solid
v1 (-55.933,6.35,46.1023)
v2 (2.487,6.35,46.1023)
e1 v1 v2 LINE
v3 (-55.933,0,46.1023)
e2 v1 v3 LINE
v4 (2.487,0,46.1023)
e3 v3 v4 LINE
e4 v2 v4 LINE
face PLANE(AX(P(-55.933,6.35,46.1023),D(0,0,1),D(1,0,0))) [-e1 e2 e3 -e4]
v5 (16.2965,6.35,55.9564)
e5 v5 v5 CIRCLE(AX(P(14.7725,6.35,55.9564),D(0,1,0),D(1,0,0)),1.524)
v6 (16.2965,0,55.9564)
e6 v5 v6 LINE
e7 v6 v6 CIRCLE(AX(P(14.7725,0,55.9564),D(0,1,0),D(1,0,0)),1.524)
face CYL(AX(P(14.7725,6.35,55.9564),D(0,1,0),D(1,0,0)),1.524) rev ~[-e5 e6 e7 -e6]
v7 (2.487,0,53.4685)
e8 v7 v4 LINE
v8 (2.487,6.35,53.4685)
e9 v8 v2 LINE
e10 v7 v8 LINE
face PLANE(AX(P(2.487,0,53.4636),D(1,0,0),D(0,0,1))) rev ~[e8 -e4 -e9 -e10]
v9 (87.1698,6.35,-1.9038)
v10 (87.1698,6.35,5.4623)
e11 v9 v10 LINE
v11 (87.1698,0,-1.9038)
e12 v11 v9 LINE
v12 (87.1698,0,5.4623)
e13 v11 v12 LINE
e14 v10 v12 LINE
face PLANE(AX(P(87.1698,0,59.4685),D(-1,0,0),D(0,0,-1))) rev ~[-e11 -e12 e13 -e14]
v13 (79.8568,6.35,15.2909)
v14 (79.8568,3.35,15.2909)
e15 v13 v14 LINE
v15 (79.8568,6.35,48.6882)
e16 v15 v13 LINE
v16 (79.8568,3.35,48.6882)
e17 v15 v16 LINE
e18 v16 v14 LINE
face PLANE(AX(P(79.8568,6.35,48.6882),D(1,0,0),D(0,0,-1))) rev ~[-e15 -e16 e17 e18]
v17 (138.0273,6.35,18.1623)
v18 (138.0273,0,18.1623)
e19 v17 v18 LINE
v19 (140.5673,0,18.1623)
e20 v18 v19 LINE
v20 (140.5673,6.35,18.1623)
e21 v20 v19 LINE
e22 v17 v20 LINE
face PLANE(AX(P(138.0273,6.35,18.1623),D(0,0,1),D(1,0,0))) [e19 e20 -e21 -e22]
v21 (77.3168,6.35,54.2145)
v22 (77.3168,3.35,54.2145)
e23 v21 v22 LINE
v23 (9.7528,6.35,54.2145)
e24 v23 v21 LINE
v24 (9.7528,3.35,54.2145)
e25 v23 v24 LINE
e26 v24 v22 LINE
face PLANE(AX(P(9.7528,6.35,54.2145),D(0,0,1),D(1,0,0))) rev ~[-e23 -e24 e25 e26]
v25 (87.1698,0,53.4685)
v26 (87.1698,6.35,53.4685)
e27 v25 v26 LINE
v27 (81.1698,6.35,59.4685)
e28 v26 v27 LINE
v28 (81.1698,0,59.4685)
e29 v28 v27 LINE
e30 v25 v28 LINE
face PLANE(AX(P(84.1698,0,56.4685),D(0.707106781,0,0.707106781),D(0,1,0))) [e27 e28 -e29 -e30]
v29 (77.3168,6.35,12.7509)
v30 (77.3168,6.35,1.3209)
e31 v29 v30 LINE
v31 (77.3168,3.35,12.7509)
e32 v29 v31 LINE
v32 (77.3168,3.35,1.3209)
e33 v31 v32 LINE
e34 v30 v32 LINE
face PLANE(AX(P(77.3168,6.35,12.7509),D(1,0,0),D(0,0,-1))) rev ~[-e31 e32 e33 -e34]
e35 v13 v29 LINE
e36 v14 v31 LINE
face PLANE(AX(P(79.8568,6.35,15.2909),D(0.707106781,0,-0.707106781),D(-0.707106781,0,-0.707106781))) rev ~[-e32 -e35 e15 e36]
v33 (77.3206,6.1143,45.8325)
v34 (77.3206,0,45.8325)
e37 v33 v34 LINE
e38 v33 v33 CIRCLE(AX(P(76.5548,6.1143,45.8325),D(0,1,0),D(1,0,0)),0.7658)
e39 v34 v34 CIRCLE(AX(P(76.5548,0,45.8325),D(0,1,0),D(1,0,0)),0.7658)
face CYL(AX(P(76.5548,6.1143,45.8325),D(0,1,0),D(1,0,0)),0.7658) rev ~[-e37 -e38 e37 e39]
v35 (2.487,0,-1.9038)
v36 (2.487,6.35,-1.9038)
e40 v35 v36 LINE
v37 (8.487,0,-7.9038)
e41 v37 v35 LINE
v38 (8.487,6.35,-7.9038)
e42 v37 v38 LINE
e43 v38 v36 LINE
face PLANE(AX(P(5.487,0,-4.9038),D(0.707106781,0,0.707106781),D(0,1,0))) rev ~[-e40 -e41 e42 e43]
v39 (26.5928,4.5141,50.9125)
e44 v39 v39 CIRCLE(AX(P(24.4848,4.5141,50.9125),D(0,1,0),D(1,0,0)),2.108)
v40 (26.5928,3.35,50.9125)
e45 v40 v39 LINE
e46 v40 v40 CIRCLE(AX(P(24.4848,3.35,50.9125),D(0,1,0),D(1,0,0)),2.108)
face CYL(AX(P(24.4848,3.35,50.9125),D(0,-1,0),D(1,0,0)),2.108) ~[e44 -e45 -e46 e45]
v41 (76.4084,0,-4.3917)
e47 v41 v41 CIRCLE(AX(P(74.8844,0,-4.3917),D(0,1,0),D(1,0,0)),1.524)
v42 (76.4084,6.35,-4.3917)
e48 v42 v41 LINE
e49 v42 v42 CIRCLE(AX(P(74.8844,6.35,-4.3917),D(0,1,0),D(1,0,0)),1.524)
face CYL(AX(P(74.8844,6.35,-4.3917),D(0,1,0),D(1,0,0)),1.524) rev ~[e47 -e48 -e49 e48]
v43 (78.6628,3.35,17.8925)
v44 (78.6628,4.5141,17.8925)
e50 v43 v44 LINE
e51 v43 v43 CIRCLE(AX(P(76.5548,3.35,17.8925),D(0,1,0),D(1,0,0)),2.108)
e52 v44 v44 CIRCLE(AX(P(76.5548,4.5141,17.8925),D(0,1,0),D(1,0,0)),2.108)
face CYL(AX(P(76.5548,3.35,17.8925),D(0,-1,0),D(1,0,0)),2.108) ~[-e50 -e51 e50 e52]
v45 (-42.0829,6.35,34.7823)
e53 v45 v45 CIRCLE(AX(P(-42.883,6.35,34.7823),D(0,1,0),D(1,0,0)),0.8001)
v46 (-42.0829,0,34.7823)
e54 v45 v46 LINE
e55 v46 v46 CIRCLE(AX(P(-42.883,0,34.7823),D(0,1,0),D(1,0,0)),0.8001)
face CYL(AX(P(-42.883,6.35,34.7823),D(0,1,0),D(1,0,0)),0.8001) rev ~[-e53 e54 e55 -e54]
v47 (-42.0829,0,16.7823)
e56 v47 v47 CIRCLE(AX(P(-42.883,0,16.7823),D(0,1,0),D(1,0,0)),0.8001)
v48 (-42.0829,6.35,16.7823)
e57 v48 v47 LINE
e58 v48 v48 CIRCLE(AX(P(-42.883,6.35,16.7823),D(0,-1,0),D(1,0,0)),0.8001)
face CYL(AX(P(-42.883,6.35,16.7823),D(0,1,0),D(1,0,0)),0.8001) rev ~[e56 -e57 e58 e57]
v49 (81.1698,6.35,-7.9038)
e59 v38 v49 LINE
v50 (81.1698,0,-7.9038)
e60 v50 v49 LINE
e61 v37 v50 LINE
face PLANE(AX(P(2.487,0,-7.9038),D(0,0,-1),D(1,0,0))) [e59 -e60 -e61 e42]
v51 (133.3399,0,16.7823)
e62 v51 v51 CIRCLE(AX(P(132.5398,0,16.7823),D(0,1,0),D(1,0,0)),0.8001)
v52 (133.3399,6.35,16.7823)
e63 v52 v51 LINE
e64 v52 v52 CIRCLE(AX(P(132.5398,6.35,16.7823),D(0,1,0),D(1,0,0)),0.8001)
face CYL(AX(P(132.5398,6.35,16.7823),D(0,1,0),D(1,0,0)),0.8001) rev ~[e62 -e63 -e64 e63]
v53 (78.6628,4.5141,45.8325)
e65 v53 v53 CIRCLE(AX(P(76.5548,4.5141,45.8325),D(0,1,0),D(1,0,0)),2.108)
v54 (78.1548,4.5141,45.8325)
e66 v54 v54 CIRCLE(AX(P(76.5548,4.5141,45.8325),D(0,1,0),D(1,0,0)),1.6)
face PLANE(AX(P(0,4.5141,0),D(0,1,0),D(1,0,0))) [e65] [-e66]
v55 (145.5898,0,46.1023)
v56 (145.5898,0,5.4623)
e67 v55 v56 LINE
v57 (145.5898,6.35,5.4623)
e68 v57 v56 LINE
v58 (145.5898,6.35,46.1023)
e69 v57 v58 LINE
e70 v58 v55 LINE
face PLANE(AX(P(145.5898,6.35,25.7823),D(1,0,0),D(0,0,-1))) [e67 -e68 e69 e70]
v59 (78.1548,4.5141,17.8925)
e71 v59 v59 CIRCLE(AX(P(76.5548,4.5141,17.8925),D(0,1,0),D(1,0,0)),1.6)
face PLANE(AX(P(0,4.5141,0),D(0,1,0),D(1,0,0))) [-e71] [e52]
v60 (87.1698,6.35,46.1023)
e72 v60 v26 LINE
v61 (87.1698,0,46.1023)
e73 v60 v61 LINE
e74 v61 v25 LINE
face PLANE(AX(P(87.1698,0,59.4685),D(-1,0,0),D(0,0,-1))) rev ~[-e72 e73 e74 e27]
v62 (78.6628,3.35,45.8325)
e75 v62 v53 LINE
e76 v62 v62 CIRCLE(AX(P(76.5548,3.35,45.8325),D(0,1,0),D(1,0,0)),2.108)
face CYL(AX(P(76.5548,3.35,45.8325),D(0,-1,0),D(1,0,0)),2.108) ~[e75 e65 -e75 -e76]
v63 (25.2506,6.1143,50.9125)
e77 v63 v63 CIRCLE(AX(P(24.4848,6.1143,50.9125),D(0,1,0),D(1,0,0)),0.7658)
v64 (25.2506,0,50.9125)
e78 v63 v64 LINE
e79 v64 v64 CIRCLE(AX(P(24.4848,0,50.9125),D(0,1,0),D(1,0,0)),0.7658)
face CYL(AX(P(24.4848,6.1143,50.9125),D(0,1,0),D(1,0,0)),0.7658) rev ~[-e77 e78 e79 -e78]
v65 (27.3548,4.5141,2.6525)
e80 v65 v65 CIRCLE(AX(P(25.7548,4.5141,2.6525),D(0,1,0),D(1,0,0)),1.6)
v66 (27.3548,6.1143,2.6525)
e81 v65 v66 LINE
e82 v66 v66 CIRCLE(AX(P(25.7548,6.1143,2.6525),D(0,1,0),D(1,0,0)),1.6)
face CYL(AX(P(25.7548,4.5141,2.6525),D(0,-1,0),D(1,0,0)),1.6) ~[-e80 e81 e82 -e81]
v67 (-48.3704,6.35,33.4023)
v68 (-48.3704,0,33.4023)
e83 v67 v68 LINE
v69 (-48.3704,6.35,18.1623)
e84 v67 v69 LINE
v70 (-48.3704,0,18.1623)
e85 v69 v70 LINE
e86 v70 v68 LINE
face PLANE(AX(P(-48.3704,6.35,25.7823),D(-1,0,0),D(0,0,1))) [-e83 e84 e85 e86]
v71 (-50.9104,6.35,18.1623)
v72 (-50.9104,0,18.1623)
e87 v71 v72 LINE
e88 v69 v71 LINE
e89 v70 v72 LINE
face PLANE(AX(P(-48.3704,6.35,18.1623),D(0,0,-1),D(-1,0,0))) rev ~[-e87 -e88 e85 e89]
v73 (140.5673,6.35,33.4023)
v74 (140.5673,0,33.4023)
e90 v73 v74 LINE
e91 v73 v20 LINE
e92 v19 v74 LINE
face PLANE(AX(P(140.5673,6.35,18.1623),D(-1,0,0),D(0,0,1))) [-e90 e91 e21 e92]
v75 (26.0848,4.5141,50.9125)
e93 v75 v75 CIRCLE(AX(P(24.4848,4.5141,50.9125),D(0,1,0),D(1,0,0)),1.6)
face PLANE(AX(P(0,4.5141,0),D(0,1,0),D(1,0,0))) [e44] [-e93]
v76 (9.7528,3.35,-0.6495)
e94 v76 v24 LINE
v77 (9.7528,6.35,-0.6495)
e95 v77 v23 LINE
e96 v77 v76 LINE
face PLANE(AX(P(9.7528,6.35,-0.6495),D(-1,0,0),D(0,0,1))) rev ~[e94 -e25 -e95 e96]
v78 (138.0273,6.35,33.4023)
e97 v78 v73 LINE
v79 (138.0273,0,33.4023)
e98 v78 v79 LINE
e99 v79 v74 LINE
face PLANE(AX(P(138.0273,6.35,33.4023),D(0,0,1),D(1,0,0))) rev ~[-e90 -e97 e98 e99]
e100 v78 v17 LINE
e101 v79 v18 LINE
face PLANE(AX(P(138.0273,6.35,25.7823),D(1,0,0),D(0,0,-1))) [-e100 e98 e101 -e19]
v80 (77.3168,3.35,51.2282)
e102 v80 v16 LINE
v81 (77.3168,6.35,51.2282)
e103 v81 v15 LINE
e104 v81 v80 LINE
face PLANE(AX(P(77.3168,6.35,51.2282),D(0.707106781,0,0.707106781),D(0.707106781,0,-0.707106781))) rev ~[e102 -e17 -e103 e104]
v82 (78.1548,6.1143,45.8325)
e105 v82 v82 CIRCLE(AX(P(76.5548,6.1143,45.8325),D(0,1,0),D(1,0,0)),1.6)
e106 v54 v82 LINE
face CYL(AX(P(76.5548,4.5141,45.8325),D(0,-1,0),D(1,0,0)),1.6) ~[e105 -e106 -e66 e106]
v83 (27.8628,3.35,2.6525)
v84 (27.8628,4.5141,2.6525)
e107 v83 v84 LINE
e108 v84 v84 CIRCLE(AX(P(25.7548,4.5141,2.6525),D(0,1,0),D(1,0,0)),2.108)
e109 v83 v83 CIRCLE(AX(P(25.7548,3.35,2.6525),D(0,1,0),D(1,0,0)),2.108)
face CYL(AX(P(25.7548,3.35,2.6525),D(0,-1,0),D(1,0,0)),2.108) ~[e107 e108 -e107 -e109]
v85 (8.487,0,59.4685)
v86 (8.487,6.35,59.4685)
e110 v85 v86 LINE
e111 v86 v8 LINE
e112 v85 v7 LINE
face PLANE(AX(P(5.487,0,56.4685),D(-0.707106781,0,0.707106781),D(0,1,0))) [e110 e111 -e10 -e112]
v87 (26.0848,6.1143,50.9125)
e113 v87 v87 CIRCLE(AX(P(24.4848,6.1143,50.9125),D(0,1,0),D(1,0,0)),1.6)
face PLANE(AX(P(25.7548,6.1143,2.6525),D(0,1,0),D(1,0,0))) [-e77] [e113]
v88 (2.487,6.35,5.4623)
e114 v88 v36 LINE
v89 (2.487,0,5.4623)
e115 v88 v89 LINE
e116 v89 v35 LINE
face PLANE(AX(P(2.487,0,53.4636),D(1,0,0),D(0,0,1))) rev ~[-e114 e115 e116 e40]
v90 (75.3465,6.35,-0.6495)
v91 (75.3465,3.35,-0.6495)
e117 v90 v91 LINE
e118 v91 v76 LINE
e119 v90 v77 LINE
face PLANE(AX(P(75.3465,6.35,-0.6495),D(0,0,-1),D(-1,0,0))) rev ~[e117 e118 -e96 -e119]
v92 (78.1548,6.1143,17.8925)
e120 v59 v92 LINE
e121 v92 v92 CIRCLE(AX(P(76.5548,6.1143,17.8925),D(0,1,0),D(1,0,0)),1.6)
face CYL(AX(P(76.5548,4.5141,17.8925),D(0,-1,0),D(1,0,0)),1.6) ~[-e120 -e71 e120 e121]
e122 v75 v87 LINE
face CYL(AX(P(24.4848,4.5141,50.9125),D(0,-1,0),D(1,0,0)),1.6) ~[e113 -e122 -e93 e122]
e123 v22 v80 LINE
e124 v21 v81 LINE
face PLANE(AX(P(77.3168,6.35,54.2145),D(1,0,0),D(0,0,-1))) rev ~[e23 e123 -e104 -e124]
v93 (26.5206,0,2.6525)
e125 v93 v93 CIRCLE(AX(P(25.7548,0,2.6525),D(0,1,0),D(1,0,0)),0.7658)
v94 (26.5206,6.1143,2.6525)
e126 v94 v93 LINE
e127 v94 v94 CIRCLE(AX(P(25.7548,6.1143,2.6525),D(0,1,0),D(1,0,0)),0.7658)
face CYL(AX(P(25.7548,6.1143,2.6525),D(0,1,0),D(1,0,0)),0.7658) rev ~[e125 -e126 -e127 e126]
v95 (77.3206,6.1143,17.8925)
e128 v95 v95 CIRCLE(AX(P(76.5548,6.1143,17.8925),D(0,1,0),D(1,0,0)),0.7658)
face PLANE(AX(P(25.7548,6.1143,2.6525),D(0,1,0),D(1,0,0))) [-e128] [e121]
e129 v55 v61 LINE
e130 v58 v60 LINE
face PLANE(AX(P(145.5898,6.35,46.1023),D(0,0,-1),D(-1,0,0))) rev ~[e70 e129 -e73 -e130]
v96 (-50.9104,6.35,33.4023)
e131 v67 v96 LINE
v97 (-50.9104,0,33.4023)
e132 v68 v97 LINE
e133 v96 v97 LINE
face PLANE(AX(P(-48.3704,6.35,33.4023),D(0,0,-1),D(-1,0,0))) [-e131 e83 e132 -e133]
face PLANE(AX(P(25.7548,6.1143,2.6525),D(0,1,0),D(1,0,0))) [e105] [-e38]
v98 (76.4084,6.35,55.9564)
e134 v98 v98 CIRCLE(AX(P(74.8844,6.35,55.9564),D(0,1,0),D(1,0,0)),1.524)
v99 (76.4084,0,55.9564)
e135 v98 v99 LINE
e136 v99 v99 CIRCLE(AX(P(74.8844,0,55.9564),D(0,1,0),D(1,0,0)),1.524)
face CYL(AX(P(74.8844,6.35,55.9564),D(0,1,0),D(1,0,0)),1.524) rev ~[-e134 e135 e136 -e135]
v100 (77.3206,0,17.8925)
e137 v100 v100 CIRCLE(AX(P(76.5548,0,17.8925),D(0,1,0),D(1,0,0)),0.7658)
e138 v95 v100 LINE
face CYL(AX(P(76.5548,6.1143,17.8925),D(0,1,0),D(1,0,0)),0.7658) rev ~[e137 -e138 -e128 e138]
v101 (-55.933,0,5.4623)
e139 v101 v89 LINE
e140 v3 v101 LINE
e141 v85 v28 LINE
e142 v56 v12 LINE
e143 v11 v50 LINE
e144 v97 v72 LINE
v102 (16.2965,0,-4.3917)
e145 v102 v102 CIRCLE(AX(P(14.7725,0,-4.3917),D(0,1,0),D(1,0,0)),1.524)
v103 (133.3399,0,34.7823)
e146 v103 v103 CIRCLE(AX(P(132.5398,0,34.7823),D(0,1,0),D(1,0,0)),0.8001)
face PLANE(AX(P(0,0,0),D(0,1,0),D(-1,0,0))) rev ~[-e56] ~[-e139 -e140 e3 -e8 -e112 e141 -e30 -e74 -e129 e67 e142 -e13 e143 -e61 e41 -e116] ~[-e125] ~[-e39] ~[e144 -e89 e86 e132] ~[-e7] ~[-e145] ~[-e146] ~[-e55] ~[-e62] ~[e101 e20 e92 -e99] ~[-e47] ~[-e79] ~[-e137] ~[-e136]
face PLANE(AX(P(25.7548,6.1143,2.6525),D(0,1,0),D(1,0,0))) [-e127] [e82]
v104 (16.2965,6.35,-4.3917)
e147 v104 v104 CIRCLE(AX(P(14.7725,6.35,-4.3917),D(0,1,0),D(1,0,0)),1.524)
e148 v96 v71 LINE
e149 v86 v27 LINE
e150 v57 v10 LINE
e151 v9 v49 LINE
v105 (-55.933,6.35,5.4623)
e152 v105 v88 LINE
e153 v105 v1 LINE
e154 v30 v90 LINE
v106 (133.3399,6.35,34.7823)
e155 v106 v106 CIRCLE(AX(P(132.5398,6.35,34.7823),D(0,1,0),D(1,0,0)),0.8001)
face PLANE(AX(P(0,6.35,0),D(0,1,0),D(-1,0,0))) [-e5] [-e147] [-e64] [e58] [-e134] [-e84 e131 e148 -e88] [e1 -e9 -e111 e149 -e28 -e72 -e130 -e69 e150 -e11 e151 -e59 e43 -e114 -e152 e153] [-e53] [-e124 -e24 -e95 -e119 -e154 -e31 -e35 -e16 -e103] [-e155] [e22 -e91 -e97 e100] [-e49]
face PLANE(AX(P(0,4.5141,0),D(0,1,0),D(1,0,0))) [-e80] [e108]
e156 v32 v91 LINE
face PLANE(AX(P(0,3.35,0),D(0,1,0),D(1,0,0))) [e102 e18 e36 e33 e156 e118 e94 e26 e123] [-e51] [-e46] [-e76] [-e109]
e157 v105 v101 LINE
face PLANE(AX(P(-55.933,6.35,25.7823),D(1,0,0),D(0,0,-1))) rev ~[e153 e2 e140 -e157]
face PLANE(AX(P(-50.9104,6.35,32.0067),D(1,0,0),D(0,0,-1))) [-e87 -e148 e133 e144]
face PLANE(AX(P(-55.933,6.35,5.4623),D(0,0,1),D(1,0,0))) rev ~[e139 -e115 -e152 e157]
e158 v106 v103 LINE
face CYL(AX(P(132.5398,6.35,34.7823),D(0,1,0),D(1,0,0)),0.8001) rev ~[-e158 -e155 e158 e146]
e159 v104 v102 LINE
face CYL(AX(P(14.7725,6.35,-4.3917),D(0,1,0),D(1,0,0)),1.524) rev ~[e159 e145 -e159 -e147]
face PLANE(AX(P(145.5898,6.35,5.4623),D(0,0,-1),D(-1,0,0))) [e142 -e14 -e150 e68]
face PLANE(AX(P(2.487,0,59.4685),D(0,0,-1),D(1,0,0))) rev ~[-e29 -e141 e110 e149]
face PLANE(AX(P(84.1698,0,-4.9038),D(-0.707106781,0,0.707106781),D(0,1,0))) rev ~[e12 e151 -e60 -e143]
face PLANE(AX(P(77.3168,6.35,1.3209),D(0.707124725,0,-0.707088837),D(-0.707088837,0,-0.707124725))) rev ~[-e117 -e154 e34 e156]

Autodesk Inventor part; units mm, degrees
ref_plane "YZ Plane" through (0, 0, 0) normal (1, 0, 0) x (0, 1, 0)
ref_plane "XZ Plane" through (0, 0, 0) normal (0, 1, 0) x (-1, 0, 0)
ref_plane "XY Plane" through (0, 0, 0) normal (0, 0, 1) x (1, 0, 0)
sketch "Sketch1" plane through (0, 0, 0) normal (0, 1, 0) x (-1, 0, 0)
  line L0 (-41.4486, 0) -> (-10.4831, 0)
  line L1 (-10.4831, 0) -> (-10.4831, 53.4636)
  line L2 (-10.4831, 53.4636) -> (-41.4486, 53.4636)
  line L3 (-41.4486, 53.4636) -> (-41.4486, 0)
  line L4 (-79.1688, 53.4636) -> (-87.1698, 53.4636)
  line L5 (-87.1698, 53.4636) -> (-87.1698, 0)
  line L6 (-87.1698, 0) -> (-79.1688, 0)
  line L7 (-79.1688, 0) -> (-79.1688, 53.4636)
  line L8 (-87.1698, 53.4636) -> (-2.487, 53.4636)
  line L9 (-2.487, 53.4636) -> (-2.487, 59.4685)
  line L10 (-2.487, 59.4685) -> (-87.1698, 59.4685)
  line L11 (-87.1698, 59.4685) -> (-87.1698, 53.4636)
  line L12 (-87.1698, 0) -> (-2.487, 0)
  line L13 (-2.487, 0) -> (-2.487, -7.9038)
  line L14 (-2.487, -7.9038) -> (-87.1698, -7.9038)
  line L15 (-87.1698, -7.9038) -> (-87.1698, 0)
  line L16 (-87.1698, -7.9038) -> (-2.487, -7.9038)
  line L17 (-2.487, -7.9038) -> (-2.487, 59.4685)
  line L18 (-2.487, 59.4685) -> (-87.1698, 59.4685)
  line L19 (-87.1698, 59.4685) -> (-87.1698, -7.9038)
  line L20 (-2.487, -7.9038) -> (-2.487, 25.802)
  line L21 (-2.487, 25.802) -> (-2.487, 59.4685)
  point P0 (0, 0)
  dimension "d0" = 8.001
  dimension "d1" = 33.7058
extrude "Extrusion1" add sketch "Sketch1" along normal blind 6.35
sketch "Sketch3" plane through (0, 6.35, 0) normal (0, 1, 0) x (1, 0, 0)
  line L0 (10.5148, -0.1125) -> (75.0308, -0.1125) projected
  line L1 (75.0308, -0.1125) -> (76.5548, -1.6365) projected
  line L2 (76.5548, -1.6365) -> (76.5548, -13.003) projected
  line L3 (76.5997, -13.1114) -> (79.0948, -15.6065) projected
  line L4 (79.0948, -15.6065) -> (79.0948, -48.3725) projected
  line L5 (79.0948, -48.3725) -> (76.5997, -50.8676) projected
  line L6 (76.5548, -50.976) -> (76.5548, -53.4525) projected
  line L7 (76.5548, -53.4525) -> (10.5148, -53.4525) projected
  line L8 (10.5148, -53.4525) -> (10.5148, -0.1125) projected
  line L9 (77.3168, -12.7509) -> (77.3168, -1.3209)
  line L10 (77.3168, -1.3209) -> (75.3465, 0.6495)
  line L11 (75.3465, 0.6495) -> (9.7528, 0.6495)
  line L12 (9.7528, 0.6495) -> (9.7528, -54.2145)
  line L13 (9.7528, -54.2145) -> (77.3168, -54.2145)
  line L14 (77.3168, -54.2145) -> (77.3168, -51.2282)
  line L15 (77.3168, -51.2282) -> (79.8568, -48.6882)
  line L16 (79.8568, -48.6882) -> (79.8568, -15.2909)
  line L17 (79.8568, -15.2909) -> (77.3168, -12.7509)
  point P0 (0, 0)
  dimension "d4" = 0.762
  dimension "d5" = 0.762
  dimension "d6" = 0.762
  dimension "d7" = 0.762
  dimension "d8" = 0.762
  dimension "d9" = 0.762
extrude "Extrusion2" cut sketch "Sketch3" against normal blind 3
sketch "Sketch4" plane through (0, 3.35, 0) normal (0, 1, 0) x (1, 0, 0)
  circle A0 centre (76.5548, -17.8925) radius 1.6 construction
  circle A1 centre (76.5548, -45.8325) radius 1.6 construction
  circle A2 centre (24.4848, -50.9125) radius 1.6 construction
  circle A3 centre (25.7548, -2.6525) radius 1.6 construction
  circle A4 centre (25.7548, -2.6525) radius 2.108
  circle A5 centre (76.5548, -17.8925) radius 2.108
  circle A6 centre (76.5548, -45.8325) radius 2.108
  circle A7 centre (24.4848, -50.9125) radius 2.108
  point P0 (0, 0)
  dimension "d12" = 0.508
  dimension "d13" = 0.508
  dimension "d14" = 0.508
  dimension "d15" = 0.508
extrude "Extrusion3" add sketch "Sketch4" along normal blind 1.1641
sketch "Sketch5" plane through (25.7548, 4.5141, 2.6525) normal (0, 1, 0) x (1, 0, 0)
  circle A0 centre (0, 0) radius 2.108 projected
  circle A1 centre (0, 0) radius 1.6
  circle A2 centre (-1.27, -48.26) radius 2.108 projected
  circle A3 centre (-1.27, -48.26) radius 2.108
  circle A4 centre (-1.27, -48.26) radius 1.6
  circle A5 centre (50.8, -43.18) radius 2.108 projected
  circle A6 centre (50.8, -43.18) radius 2.108
  circle A7 centre (50.8, -15.24) radius 2.108 projected
  circle A8 centre (50.8, -15.24) radius 2.108
  circle A9 centre (50.8, -15.24) radius 1.6
  circle A10 centre (50.8, -43.18) radius 1.6
  point P0 (-25.7548, 2.6525)
  dimension "d18" = 3.2
  dimension "d27" = 3.2
  dimension "d28" = 3.2
  dimension "d29" = 3.2
extrude "Extrusion4" add sketch "Sketch5" along normal blind 1.6002 contours A1 | A4 | A9 | A10
sketch "Sketch8" plane through (25.7548, 6.1143, 2.6525) normal (0, 1, 0) x (1, 0, 0)
  circle A0 centre (0, 0) radius 0.7658
  circle A1 centre (50.8, -15.24) radius 1.6 projected
  circle A2 centre (50.8, -15.24) radius 0.7658
  circle A3 centre (50.8, -43.18) radius 1.6 projected
  circle A4 centre (50.8, -43.18) radius 0.7658
  circle A5 centre (-1.27, -48.26) radius 1.6 projected
  circle A6 centre (-1.27, -48.26) radius 0.7658
  point P0 (-25.7548, 2.6525)
  dimension "d32" = 1.5316
  dimension "d33" = 1.5316
  dimension "d34" = 1.5316
  dimension "d35" = 1.5316
extrude "Extrusion5" cut sketch "Sketch8" against normal blind 14.986 contours A0 | A2 | A4 | A6
sketch "Sketch9" plane through (0, 6.35, 0) normal (0, 1, 0) x (1, 0, 0)
  line L0 (87.1698, 7.9038) -> (2.487, 7.9038) projected
  line L1 (44.8284, 7.9038) -> (44.8284, -59.4685)
  line L2 (2.487, -59.4685) -> (87.1698, -59.4685) projected
  line L3 (2.487, 7.9038) -> (2.487, -59.4685) projected
  line L4 (2.487, -25.7823) -> (87.1698, -25.7823)
  line L5 (87.1698, -59.4685) -> (87.1698, 7.9038) projected
  line L6 (2.487, -25.7823) -> (-55.933, -25.7823)
  line L7 (-55.933, -25.7823) -> (-55.933, -5.4623)
  line L8 (-55.933, -5.4623) -> (2.487, -5.4623)
  line L9 (2.487, -5.4623) -> (2.487, -25.7823)
  line L10 (-55.933, -25.7823) -> (-55.933, -46.1023)
  line L11 (-55.933, -46.1023) -> (2.487, -46.1023)
  circle A0 centre (14.7725, 4.3917) radius 1.524
  line L12 (145.5898, -25.7823) -> (145.5898, -5.4623)
  line L13 (145.5898, -5.4623) -> (87.1698, -5.4623)
  line L14 (145.5898, -25.7823) -> (145.5898, -46.1023)
  line L15 (145.5898, -46.1023) -> (87.1698, -46.1023)
  circle A1 centre (74.8844, 4.3917) radius 1.524
  circle A2 centre (14.7725, -55.9564) radius 1.524
  circle A3 centre (74.8844, -55.9564) radius 1.524
  line L16 (87.1698, -46.1023) -> (87.1698, -5.4623)
  line L17 (2.487, -46.1023) -> (2.487, -5.4623)
  circle A4 centre (14.7725, -55.9564) radius 1.524
  circle A5 centre (14.7725, 4.3917) radius 1.524
  circle A6 centre (74.8844, 4.3917) radius 1.524
  point P0 (0, 0)
  dimension "d38" = 58.42
  dimension "d39" = 20.32
  dimension "d40" = 3.048
extrude "Extrusion6" add sketch "Sketch9" against normal blind 6.35 contours L13 L12 L14 L15 L5 | L3 L6 L7 L8 | L3 L11 L10 L6
sketch "Sketch10" plane through (0, 6.35, 0) normal (0, 1, 0) x (1, 0, 0)
  point P0 (0, 0)
extrude "Extrusion7" cut sketch "Sketch9" against normal blind 9.906 contours A0 | A1 | A2 | A3
sketch "Sketch11" plane through (0, 6.35, 0) normal (0, 1, 0) x (1, 0, 0)
  line L0 (-55.933, -46.1023) -> (-55.933, -5.4623) projected
  line L1 (-55.933, -25.7823) -> (145.5898, -25.7823)
  line L2 (145.5898, -5.4623) -> (145.5898, -46.1023) projected
  line L3 (87.1698, 7.9038) -> (2.487, 7.9038) projected
  line L4 (44.8284, 7.9038) -> (44.8284, -59.4685)
  line L5 (2.487, -59.4685) -> (87.1698, -59.4685) projected
  line L6 (-55.933, -25.7823) -> (-26.469, -25.7823)
  line L7 (-26.469, -25.7823) -> (-26.469, -19.5593)
  line L8 (-26.469, -19.5593) -> (-55.933, -19.5593)
  line L9 (-55.933, -19.5593) -> (-55.933, -25.7823)
  line L10 (-26.469, -25.7823) -> (-55.933, -25.7823)
  line L11 (-55.933, -25.7823) -> (-55.933, -32.0067)
  line L12 (-55.933, -32.0067) -> (-26.469, -32.0067)
  line L13 (-26.469, -32.0067) -> (-26.469, -25.7823)
  line L14 (-55.933, -25.7823) -> (-26.469, -25.7823)
  line L15 (-26.469, -25.7823) -> (-26.469, -32.0067)
  line L16 (-26.469, -32.0067) -> (-55.933, -32.0067)
  line L17 (-55.933, -32.0067) -> (-55.933, -25.7823)
  line L18 (-55.933, -19.5593) -> (-38.633, -19.5593)
  line L19 (-55.933, -25.7823) -> (-55.933, -18.2823)
  line L20 (-55.933, -18.2823) -> (-38.633, -18.2823)
  line L21 (-38.633, -18.2823) -> (-38.633, -12.4823)
  line L22 (-38.633, -12.4823) -> (-47.133, -12.4823)
  line L23 (-47.133, -12.4823) -> (-47.133, -18.2823)
  line L24 (-48.3704, -25.7823) -> (-48.3704, -18.1623)
  line L25 (-48.3704, -18.1623) -> (-50.9104, -18.1623)
  line L26 (-50.9104, -18.1623) -> (-50.9104, -25.7823)
  line L27 (-42.883, -25.7823) -> (-42.883, -16.7823)
  circle A0 centre (-42.883, -16.7823) radius 0.8001
  line L28 (-48.3704, -25.7823) -> (-48.3704, -33.4023)
  line L29 (-48.3704, -33.4023) -> (-50.9104, -33.4023)
  line L30 (-50.9104, -33.4023) -> (-50.9104, -25.7823)
  circle A1 centre (-42.883, -34.7823) radius 0.8001
  line L31 (138.0273, -25.7823) -> (138.0273, -18.1623)
  line L32 (138.0273, -18.1623) -> (140.5673, -18.1623)
  line L33 (140.5673, -18.1623) -> (140.5673, -25.7823)
  circle A2 centre (132.5398, -16.7823) radius 0.8001
  circle A3 centre (132.5398, -34.7823) radius 0.8001
  line L34 (138.0273, -25.7823) -> (138.0273, -33.4023)
  line L35 (140.5673, -33.4023) -> (140.5673, -25.7823)
  line L36 (138.0273, -33.4023) -> (140.5673, -33.4023)
  point P0 (0, 0)
  dimension "d64" = 2
  dimension "d45" = 29.464
  dimension "d46" = 6.223
  dimension "d47" = 17.3
  dimension "d48" = 7.5
  dimension "d49" = 5.8
  dimension "d50" = 8.5
  dimension "d51" = 7.62
  dimension "d52" = 2.54
  dimension "d53" = 9
  dimension "d54" = 1.6002
extrude "Extrusion8" cut sketch "Sketch11" against normal blind 25.4 contours L31 L32 L33 L1 | L1 L35 L36 L34 | L30 L1 L28 L12 | L12 L28 L29 L30 | L26 L8 L24 L1 | L26 L20 L24 L8 | L26 L25 L24 L20 | A0 | A1 | A2 | A3
sketch "Sketch12" plane through (87.1698, 0, -7.9038) normal (0, 0, -1) x (-1, 0, 0)
  point P0 (87.1698, 0)
sketch "Sketch13" plane through (-55.933, 6.35, 8.6373) normal (-1, 0, 0) x (0, 0, 1)
  point P0 (-8.6373, -6.35)
sketch "Sketch15" plane through (0, 3.35, 0) normal (0, 1, 0) x (1, 0, 0)
  line L0 (-55.933, -5.4623) -> (-55.933, -46.1023) projected
  line L1 (-55.933, -25.7823) -> (145.5898, -25.7823)
  line L2 (145.5898, -5.4623) -> (145.5898, -46.1023) projected
  point P0 (0, 0)
  point P1 (-55.933, -8.6373)
  point P2 (-55.933, -42.9273)
  point P3 (145.5898, -8.6373)
  point P4 (145.5898, -42.9273)
  dimension "d61" = 201.5228
sketch "Sketch16" plane through (-55.933, 6.35, 8.6373) normal (-1, 0, 0) x (0, 0, 1)
  line L0 (45.5772, 0) -> (-9.2868, 0) projected
  line L1 (18.1452, 0) -> (18.1452, -6.35)
  line L2 (9.525, -6.35) -> (24.765, -6.35) projected
  point P0 (-8.6373, -6.35)
  dimension "d62" = 6.35
chamfer "Chamfer2" distance 6 angle 45 4 edges at (87.1698, 3.175, -7.9038) (87.1698, 3.175, 59.4685) (2.487, 3.175, 59.4685) (2.487, 3.175, -7.9038)
equation "\"d4\" = d5"
equation "\"d6\" = d5"
equation "\"d7\" = d5"
equation "\"d8\" = d5"
equation "\"d9\" = d5"
equation "\"d13\" = d12"
equation "\"d14\" = d12"
equation "\"d15\" = d12"
properties part number "base"
